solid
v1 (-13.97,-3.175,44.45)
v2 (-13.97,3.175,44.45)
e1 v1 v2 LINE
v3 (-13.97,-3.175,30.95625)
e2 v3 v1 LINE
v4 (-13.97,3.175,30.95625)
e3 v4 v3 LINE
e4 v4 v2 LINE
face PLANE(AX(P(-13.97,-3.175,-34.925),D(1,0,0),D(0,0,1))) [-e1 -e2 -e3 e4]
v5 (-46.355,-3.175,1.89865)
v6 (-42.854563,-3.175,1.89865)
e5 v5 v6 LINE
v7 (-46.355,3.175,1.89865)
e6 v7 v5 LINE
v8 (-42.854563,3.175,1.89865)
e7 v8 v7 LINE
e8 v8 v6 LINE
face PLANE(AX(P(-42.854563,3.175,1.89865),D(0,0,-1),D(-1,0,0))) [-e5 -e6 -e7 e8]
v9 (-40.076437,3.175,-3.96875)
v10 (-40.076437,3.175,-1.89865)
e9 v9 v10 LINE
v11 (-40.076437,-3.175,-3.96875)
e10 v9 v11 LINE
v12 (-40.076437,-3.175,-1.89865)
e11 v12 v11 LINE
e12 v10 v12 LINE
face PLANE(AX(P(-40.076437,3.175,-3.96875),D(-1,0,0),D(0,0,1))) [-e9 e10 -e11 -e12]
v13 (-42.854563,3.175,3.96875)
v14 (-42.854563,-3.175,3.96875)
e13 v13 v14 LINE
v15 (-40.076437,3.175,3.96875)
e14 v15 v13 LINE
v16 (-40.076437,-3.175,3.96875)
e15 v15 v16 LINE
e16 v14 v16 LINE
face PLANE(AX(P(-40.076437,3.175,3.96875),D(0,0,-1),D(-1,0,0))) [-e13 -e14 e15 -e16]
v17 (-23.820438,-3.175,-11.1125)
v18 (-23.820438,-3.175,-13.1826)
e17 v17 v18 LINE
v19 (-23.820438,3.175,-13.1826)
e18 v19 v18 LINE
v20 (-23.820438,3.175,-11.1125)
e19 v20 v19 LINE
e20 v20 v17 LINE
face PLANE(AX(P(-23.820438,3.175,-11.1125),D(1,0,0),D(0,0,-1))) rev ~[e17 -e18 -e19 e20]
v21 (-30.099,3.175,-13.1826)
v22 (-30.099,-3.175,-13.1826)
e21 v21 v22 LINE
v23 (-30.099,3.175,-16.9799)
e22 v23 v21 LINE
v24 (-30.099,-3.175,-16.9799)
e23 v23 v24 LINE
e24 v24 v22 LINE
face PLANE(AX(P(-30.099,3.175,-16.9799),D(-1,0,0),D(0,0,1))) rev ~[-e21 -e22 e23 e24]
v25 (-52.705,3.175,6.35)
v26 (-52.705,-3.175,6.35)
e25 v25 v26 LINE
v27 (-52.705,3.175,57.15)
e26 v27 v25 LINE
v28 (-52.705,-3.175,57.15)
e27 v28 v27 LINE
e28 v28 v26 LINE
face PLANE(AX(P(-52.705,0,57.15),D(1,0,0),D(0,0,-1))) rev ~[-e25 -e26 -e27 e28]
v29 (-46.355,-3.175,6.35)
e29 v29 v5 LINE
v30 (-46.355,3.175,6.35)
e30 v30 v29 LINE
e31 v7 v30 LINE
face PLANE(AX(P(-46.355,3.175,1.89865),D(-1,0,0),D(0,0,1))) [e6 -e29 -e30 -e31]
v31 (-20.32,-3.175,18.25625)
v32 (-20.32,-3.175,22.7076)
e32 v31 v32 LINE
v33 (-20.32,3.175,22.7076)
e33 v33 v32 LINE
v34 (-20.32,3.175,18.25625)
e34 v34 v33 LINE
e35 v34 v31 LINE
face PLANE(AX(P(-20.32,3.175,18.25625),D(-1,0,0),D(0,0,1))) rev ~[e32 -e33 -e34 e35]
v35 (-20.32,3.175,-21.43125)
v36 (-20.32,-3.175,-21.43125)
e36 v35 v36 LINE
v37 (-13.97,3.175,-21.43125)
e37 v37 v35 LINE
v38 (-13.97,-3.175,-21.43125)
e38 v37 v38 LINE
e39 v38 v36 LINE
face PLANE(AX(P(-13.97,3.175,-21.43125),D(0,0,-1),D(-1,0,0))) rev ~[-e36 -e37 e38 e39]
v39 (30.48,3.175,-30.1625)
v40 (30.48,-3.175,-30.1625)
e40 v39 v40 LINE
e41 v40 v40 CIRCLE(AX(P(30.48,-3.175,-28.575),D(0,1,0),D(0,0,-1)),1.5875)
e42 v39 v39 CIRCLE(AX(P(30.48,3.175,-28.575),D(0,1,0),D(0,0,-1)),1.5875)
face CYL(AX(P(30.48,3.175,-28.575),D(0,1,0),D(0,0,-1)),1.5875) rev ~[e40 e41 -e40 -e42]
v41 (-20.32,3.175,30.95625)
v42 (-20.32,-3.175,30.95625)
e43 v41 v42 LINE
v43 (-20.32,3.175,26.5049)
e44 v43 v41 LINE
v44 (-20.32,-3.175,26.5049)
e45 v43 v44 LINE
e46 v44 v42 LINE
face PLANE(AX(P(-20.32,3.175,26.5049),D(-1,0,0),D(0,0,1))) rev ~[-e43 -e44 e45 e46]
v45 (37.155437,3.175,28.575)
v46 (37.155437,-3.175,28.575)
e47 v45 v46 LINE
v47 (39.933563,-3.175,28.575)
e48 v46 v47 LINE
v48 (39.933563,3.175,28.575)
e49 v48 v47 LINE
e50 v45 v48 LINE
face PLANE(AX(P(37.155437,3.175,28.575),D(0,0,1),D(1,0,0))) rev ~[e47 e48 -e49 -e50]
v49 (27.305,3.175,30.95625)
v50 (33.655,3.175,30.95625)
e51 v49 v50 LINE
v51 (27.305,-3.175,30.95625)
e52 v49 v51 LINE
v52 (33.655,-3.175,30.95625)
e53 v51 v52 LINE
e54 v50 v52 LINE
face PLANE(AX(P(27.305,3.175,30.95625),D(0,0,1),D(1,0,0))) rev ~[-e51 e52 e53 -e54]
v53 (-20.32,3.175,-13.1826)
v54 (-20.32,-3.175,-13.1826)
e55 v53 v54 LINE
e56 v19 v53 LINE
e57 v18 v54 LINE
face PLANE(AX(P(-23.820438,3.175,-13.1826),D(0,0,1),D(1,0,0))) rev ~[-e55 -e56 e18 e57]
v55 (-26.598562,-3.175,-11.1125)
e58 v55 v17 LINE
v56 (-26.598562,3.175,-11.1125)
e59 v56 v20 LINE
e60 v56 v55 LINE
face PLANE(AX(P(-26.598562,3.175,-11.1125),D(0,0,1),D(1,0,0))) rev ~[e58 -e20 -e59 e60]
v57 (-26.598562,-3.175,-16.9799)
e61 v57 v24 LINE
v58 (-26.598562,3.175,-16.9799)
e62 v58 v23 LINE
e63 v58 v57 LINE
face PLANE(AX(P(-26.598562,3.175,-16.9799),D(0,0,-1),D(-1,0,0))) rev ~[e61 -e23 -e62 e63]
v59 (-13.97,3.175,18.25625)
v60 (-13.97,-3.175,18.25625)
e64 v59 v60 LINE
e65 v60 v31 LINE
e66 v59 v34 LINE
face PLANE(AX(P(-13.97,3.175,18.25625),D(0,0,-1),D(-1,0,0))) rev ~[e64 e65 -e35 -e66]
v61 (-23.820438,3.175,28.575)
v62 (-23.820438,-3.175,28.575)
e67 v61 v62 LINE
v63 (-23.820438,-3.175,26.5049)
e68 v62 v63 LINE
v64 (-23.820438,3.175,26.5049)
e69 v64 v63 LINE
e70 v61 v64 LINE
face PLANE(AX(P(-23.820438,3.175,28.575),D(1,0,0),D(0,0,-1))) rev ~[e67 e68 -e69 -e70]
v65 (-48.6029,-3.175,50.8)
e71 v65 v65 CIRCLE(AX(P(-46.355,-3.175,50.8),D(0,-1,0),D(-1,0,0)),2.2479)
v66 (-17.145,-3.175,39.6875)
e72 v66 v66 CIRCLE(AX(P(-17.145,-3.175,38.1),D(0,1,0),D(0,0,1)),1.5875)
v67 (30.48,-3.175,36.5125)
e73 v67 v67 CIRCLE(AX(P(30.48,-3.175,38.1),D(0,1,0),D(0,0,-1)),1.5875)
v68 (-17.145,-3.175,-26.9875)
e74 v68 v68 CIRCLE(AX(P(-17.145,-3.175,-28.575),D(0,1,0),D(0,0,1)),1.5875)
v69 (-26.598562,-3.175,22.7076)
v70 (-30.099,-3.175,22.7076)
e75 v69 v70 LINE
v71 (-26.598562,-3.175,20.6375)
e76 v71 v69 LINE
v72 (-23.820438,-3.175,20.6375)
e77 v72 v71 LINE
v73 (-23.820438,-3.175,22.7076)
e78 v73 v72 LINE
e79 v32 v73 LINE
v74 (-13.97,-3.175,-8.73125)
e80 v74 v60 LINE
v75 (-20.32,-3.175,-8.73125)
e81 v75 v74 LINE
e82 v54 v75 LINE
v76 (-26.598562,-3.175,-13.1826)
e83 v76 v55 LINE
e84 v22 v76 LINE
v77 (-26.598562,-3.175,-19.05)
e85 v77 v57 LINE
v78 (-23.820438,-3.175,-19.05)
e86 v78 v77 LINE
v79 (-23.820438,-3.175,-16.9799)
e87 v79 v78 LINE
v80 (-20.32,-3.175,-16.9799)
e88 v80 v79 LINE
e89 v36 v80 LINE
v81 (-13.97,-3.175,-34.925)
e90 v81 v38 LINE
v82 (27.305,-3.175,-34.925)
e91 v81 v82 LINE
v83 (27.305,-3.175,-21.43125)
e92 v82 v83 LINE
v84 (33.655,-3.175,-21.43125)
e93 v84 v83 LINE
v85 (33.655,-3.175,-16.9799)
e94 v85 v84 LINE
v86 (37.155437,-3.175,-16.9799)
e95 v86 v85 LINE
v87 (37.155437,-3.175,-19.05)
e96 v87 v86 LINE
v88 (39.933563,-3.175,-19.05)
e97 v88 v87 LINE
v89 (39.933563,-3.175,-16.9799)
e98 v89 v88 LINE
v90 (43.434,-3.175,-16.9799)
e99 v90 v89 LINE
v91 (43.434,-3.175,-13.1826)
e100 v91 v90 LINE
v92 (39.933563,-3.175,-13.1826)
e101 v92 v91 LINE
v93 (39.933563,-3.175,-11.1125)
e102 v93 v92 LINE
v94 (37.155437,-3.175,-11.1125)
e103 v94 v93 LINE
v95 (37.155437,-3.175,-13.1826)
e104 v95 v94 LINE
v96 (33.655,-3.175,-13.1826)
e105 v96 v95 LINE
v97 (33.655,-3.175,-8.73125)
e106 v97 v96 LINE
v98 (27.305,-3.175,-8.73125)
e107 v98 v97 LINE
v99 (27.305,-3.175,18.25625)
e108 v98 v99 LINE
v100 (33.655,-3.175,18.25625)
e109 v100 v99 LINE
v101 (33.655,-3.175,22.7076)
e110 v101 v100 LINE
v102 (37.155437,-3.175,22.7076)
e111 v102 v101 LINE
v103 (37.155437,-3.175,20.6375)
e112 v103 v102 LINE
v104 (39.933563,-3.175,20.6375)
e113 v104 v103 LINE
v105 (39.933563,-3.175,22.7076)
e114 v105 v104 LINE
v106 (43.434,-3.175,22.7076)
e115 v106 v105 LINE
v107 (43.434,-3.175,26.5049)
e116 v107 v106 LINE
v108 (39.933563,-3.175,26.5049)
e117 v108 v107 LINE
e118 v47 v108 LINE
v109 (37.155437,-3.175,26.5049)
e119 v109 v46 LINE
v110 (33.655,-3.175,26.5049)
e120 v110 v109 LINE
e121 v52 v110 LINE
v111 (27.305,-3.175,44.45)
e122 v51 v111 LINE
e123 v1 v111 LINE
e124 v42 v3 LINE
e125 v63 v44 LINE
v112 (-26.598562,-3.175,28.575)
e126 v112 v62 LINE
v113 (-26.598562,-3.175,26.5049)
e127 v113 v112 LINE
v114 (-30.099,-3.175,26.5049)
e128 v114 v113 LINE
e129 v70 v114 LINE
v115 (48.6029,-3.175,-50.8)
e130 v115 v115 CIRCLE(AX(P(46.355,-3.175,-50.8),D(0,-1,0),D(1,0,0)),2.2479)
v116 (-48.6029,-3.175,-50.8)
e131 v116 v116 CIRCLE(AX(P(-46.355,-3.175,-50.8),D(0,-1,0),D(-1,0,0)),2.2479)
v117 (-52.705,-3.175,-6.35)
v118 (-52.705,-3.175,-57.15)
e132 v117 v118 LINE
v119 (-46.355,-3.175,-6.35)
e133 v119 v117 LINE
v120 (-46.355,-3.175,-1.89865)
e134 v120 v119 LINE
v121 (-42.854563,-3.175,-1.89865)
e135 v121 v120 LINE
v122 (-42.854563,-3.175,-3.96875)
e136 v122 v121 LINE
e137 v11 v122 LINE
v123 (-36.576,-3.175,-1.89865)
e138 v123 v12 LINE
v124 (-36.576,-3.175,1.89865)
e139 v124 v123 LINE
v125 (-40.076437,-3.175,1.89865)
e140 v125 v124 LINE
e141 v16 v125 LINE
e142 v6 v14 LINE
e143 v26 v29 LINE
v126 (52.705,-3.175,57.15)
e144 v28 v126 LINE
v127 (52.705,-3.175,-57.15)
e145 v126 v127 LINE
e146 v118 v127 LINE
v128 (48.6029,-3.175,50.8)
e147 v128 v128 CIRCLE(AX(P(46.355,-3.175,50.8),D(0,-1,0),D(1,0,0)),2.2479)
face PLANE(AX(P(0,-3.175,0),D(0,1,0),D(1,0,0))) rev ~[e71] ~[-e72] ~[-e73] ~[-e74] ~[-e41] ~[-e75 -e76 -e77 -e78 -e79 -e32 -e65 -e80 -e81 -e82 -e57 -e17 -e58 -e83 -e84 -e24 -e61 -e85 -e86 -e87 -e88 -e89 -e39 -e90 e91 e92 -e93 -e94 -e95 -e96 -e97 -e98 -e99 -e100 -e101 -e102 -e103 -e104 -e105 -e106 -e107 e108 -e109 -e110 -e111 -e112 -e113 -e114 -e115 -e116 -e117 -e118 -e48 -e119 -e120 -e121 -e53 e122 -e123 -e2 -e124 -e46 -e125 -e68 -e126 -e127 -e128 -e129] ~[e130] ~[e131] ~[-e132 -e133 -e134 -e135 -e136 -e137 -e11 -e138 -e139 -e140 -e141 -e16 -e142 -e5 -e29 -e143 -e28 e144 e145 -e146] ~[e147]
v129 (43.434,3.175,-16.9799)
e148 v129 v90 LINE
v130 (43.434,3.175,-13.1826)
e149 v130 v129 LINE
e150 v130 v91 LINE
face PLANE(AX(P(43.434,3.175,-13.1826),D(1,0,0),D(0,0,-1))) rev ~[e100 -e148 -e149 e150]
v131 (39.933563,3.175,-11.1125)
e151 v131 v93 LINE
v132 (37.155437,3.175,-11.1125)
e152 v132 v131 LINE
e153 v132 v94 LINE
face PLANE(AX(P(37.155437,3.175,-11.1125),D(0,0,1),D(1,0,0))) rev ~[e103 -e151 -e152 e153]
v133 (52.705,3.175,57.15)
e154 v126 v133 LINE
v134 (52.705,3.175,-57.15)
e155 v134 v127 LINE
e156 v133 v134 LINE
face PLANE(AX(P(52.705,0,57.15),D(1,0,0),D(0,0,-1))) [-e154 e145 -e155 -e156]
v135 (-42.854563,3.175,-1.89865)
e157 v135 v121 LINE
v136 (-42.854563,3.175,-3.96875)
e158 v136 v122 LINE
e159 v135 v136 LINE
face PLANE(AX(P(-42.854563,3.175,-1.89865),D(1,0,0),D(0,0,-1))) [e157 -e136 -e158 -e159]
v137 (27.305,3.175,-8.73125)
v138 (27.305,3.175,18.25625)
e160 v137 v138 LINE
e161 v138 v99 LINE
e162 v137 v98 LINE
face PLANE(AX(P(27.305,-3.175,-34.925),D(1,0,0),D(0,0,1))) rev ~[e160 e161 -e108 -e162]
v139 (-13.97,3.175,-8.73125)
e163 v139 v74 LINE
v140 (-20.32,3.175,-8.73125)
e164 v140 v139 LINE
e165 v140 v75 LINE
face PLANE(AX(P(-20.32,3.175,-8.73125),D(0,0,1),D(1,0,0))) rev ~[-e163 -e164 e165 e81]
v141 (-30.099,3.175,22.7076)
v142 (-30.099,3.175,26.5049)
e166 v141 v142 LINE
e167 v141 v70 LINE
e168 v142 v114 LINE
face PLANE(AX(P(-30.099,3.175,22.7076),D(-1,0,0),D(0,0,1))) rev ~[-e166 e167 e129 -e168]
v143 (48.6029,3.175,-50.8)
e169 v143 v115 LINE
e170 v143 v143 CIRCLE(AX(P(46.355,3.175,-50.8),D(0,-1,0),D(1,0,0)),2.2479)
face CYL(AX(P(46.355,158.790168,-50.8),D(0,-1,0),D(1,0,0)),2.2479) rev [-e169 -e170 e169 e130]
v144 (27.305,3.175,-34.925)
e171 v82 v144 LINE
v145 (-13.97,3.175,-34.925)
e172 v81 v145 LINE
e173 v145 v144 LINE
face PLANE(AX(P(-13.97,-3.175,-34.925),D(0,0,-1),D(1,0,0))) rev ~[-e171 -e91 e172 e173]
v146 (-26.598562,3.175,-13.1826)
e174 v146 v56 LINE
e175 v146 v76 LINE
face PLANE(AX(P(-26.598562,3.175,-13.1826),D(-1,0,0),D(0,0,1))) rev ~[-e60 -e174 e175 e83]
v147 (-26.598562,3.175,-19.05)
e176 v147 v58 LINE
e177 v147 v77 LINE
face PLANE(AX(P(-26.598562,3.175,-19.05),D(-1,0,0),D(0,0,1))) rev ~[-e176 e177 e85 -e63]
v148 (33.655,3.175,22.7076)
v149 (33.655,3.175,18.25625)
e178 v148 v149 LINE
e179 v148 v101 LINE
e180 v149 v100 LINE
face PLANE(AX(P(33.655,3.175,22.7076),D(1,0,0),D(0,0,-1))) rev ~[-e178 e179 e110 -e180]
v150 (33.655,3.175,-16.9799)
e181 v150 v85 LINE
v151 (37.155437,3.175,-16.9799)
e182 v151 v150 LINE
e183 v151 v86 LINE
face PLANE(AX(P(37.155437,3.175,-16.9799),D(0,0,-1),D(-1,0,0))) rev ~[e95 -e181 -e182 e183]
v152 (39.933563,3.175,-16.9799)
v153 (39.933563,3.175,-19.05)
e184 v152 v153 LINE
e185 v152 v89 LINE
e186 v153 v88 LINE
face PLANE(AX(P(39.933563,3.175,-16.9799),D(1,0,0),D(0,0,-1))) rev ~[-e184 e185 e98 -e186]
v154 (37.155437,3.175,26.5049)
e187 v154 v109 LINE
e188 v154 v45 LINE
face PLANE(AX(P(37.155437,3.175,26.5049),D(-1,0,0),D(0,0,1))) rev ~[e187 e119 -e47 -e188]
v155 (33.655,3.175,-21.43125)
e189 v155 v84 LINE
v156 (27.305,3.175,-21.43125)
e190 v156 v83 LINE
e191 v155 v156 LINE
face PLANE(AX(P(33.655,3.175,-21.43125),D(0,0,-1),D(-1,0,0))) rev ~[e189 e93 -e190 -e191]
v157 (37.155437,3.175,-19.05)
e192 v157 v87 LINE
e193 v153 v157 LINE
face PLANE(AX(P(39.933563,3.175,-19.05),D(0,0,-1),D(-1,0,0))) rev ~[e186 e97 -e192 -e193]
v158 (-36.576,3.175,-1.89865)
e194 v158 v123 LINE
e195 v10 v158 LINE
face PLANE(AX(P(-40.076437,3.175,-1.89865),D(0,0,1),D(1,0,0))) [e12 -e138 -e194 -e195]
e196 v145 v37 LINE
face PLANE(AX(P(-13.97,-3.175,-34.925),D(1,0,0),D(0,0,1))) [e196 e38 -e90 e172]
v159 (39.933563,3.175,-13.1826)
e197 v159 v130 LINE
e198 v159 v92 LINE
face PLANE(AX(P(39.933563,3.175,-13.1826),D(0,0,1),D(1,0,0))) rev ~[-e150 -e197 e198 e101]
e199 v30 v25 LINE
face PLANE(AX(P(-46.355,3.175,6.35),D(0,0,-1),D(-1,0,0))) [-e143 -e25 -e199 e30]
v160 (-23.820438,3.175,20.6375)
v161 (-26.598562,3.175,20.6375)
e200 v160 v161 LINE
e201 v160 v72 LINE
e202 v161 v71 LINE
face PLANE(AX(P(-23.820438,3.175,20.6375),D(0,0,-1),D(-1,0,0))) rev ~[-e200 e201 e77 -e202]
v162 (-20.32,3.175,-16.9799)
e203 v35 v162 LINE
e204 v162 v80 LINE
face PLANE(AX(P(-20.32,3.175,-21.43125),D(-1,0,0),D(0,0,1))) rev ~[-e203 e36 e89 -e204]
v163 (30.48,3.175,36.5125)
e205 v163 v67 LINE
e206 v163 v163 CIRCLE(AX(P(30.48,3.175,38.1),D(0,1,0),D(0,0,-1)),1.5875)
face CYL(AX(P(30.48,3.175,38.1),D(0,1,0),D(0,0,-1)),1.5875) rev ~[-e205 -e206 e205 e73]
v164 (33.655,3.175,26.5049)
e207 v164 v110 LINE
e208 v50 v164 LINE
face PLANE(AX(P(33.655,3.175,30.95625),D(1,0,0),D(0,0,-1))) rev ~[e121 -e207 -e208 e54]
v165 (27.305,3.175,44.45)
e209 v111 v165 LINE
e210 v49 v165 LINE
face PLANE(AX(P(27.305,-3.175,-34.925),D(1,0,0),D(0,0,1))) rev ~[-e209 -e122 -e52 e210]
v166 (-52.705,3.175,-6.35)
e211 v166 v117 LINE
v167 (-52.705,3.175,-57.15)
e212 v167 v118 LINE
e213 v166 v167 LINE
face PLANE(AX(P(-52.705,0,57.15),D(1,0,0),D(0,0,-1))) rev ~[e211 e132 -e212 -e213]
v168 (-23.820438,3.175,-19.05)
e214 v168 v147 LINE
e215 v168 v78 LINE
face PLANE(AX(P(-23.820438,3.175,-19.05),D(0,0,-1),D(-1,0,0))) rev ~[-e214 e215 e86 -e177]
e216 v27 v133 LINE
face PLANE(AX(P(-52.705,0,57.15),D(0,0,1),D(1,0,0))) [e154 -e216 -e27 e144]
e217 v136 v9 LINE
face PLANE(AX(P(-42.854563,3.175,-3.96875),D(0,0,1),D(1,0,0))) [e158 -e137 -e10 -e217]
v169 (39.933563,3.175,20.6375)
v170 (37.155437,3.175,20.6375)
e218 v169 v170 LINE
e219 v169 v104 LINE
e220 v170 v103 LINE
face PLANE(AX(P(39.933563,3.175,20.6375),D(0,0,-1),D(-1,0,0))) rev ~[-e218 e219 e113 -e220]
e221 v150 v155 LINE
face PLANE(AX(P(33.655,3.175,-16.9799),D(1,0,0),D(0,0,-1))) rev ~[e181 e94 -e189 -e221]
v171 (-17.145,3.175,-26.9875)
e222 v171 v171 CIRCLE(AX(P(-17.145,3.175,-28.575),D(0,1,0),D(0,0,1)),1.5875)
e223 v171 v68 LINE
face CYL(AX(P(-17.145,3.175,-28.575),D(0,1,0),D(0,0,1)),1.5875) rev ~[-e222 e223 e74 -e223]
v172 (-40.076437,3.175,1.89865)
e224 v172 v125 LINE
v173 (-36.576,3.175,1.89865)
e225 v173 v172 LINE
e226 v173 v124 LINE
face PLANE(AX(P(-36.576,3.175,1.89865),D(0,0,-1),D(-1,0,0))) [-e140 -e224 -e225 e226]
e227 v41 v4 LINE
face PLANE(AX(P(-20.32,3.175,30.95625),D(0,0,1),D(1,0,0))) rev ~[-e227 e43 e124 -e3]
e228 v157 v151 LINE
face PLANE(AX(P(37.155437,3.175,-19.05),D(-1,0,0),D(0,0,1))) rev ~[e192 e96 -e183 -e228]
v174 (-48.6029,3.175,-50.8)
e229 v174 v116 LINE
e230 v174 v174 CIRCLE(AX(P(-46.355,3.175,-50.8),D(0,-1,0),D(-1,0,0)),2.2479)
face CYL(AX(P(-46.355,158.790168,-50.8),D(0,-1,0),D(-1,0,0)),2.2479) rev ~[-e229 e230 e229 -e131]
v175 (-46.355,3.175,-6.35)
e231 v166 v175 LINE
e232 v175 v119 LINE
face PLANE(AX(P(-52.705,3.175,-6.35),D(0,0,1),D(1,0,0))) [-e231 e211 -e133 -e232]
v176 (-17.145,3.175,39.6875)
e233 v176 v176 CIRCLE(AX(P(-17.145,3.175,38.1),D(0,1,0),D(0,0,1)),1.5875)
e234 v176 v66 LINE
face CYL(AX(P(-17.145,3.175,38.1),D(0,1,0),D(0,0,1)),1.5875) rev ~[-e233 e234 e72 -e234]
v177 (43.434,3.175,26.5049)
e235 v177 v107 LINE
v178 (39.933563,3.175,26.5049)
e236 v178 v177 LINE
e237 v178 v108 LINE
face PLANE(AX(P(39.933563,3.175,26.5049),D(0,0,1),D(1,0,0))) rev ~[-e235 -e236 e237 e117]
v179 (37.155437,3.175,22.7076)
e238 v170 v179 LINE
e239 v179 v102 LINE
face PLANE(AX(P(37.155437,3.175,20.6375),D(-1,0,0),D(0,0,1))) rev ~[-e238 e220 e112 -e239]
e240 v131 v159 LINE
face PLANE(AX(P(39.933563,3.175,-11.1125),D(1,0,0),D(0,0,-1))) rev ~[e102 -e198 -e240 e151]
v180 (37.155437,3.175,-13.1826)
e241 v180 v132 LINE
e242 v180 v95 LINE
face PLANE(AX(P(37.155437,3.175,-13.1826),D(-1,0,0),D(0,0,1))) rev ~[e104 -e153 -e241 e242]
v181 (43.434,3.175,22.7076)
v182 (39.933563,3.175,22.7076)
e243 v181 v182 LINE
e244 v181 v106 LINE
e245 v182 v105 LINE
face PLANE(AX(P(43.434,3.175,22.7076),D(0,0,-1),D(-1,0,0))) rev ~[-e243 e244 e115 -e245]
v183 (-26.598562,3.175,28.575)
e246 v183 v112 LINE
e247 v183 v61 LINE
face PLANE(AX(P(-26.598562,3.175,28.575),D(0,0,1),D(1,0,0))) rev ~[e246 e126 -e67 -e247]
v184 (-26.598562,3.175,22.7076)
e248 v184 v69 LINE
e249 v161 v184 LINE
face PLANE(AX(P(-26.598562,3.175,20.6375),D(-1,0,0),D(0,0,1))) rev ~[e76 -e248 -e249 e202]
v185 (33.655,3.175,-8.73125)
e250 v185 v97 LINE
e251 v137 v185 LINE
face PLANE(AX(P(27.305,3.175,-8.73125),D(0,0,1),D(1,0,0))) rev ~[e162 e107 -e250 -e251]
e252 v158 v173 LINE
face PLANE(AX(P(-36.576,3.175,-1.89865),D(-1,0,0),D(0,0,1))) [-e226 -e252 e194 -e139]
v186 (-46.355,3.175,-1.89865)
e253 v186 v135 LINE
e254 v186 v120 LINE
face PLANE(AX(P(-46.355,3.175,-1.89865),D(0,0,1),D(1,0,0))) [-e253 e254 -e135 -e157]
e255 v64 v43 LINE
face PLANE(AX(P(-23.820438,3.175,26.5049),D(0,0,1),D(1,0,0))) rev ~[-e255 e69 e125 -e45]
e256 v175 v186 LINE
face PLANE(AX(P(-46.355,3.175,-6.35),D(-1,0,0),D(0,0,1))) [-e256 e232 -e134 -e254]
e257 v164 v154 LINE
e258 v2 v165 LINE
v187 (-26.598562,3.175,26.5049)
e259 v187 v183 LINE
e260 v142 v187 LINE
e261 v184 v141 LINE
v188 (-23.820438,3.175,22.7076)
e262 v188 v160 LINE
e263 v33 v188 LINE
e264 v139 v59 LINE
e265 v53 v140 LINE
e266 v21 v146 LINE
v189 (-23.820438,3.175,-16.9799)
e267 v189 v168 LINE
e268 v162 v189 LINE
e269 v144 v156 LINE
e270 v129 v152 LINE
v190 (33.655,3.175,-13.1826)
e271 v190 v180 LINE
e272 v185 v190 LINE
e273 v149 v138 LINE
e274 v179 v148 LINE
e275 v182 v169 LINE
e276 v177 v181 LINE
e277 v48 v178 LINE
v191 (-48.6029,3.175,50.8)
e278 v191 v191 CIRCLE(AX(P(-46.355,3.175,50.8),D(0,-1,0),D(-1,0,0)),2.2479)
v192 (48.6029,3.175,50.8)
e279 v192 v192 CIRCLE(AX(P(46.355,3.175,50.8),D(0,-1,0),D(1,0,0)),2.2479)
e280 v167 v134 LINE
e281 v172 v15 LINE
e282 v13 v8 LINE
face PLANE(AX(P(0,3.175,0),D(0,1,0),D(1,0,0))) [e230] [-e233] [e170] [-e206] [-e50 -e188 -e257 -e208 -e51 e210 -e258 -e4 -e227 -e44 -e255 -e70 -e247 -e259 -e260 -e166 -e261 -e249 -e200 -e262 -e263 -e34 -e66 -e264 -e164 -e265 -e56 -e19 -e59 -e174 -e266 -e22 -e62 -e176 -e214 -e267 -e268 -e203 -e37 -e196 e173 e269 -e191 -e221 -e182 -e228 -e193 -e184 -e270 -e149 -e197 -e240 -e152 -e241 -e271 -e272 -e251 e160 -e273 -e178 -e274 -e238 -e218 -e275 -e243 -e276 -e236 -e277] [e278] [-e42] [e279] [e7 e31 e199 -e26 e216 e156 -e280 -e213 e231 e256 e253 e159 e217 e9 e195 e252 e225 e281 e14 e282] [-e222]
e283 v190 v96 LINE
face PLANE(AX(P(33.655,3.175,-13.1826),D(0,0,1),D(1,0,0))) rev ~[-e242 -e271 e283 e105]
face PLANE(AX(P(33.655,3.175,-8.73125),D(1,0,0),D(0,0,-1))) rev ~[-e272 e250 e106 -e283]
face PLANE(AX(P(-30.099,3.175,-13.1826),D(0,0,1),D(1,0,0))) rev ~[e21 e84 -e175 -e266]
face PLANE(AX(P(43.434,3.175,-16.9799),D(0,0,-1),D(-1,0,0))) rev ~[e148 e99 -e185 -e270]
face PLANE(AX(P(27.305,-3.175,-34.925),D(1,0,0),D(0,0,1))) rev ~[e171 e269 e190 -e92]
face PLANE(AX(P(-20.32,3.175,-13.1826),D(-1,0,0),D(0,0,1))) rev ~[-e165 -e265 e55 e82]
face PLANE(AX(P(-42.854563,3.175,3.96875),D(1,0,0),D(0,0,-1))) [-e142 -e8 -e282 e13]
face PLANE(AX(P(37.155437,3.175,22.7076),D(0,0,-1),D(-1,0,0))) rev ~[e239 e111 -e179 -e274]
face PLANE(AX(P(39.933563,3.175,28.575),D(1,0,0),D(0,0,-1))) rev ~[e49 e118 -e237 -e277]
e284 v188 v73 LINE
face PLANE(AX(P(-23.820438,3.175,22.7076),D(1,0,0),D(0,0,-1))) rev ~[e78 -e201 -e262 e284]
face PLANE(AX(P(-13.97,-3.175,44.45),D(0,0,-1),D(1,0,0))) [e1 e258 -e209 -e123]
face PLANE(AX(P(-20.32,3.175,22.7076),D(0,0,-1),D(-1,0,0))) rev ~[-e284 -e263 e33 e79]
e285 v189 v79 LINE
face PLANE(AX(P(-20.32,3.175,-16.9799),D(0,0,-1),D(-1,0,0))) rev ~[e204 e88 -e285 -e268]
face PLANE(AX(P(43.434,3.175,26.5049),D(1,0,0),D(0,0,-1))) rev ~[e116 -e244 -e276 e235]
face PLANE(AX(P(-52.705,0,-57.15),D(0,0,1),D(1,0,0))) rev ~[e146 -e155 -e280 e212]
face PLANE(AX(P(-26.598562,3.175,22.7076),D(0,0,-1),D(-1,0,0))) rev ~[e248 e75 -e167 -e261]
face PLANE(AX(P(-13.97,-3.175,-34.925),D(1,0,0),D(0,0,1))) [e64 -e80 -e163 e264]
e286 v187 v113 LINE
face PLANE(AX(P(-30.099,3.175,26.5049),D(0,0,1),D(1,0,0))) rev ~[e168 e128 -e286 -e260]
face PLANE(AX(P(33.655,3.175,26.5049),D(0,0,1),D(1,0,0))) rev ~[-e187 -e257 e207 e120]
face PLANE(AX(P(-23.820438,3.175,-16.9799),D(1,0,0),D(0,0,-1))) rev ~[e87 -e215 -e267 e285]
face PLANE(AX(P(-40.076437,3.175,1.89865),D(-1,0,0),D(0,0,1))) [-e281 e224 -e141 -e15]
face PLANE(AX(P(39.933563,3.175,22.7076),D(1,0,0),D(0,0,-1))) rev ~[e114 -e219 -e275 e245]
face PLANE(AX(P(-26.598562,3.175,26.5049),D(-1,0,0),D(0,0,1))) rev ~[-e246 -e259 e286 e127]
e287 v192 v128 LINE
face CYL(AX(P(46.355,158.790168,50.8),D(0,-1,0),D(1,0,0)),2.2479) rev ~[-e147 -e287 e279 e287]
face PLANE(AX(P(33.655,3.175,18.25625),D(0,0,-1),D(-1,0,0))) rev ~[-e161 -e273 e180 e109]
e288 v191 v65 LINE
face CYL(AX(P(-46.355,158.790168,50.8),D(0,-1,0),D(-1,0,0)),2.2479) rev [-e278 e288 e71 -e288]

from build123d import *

# Parameters (mm, degrees)
SKETCH1_W             = 105.41
SKETCH1_H             = 114.3
BOSS_EXTRUDE1_DEPTH   = 3.175
F_8_CLEARANCE_HOLE1_D = 4.4958
MIRROR2_COPY_1_D      = 4.4958
CUT_EXTRUDE4_REACH    = 80.002
SKETCH15_W            = 41.275
SKETCH15_H            = 79.375
CUT_EXTRUDE5_REACH    = 80.002
SKETCH17_R            = 1.5875
CUT_EXTRUDE6_DEPTH    = 6.35


with BuildPart() as part:
    # Sketch1 → Boss-Extrude1 (new, symmetric)
    with BuildSketch(Plane(origin=(0, 0, 0), x_dir=(1, 0, 0), z_dir=(0, 1, 0))):
        Rectangle(SKETCH1_W, SKETCH1_H)
    extrude(amount=BOSS_EXTRUDE1_DEPTH, both=True)

    # #8 Clearance Hole1 (through all)
    with Locations(Plane(origin=(0, 3.175, 0), x_dir=(1, 0, 0), z_dir=(0, 1, 0))):
        with Locations((-46.355, 50.8)):
            f_8_clearance_hole1 = Hole(F_8_CLEARANCE_HOLE1_D / 2)

    # Mirror1: #8 Clearance Hole1 across plane
    add(f_8_clearance_hole1.mirror(Plane.XY), mode=Mode.SUBTRACT)

    # Mirror2: #8 Clearance Hole1 across plane
    add(f_8_clearance_hole1.mirror(Plane(origin=(0, 0, 0), x_dir=(0, 0, 1), z_dir=(1, 0, 0))), mode=Mode.SUBTRACT)

    # Mirror2 copy 1 (through all)
    with Locations(Plane(origin=(0, 3.175, 0), x_dir=(-1, 0, 0), z_dir=(0, 1, 0))):
        with Locations((-46.355, 50.8)):
            Hole(MIRROR2_COPY_1_D / 2)

    # Sketch15 → Cut-Extrude4 (cut, up to next)
    with BuildSketch(Plane.XZ.offset(3.175), mode=Mode.PRIVATE) as cut_extrude4_sk1:
        with Locations((6.6675, 4.7625)):
            Rectangle(SKETCH15_W, SKETCH15_H)
    cut_extrude4_tool1 = extrude(cut_extrude4_sk1.sketch, amount=-CUT_EXTRUDE4_REACH, mode=Mode.PRIVATE) & part.part
    add(cut_extrude4_tool1.solids().sort_by_distance((6.6675, -3.175, 4.7625))[0], mode=Mode.SUBTRACT)

    # Sketch16 → Cut-Extrude5 (cut, up to next)
    with BuildSketch(Plane(origin=(0, 3.175, 0), x_dir=(1, 0, 0), z_dir=(0, 1, 0)), mode=Mode.PRIVATE) as cut_extrude5_sk1:
        Polygon((-52.705, -6.35), (-52.705, 6.35), (-46.355, 6.35), (-46.355, 1.89865), (-42.8545625, 1.89865), (-42.8545625, 3.96875), (-40.0764375, 3.96875), (-40.0764375, 1.89865), (-36.576, 1.89865), (-36.576, -1.89865), (-40.0764375, -1.89865), (-40.0764375, -3.96875), (-42.8545625, -3.96875), (-42.8545625, -1.89865), (-46.355, -1.89865), (-46.355, -6.35), align=None)
    cut_extrude5_tool1 = extrude(cut_extrude5_sk1.sketch, amount=-CUT_EXTRUDE5_REACH, mode=Mode.PRIVATE) & part.part
    add(cut_extrude5_tool1.solids().sort_by_distance((-46.496113, 3.175, 0))[0], mode=Mode.SUBTRACT)

    # Sketch17 → Cut-Extrude6 (cut)
    with BuildSketch(Plane(origin=(0, 3.175, 0), x_dir=(1, 0, 0), z_dir=(0, 1, 0))):
        with Locations(Location((-17.145, 28.575, 0), (0, 0, 270))):
            Circle(SKETCH17_R)
        with Locations(Location((-17.145, -38.1, 0), (0, 0, 270))):
            Circle(SKETCH17_R)
        with Locations(Location((30.48, -38.1, 0), (0, 0, 90))):
            Circle(SKETCH17_R)
        with Locations(Location((30.48, 28.575, 0), (0, 0, 90))):
            Circle(SKETCH17_R)
        Polygon((-20.32, 8.73125), (-13.97, 8.73125), (-13.97, 21.43125), (-20.32, 21.43125), (-20.32, 16.9799), (-23.8204375, 16.9799), (-23.8204375, 19.05), (-26.5985625, 19.05), (-26.5985625, 16.9799), (-30.099, 16.9799), (-30.099, 13.1826), (-26.5985625, 13.1826), (-26.5985625, 11.1125), (-23.8204375, 11.1125), (-23.8204375, 13.1826), (-20.32, 13.1826), align=None)
        Polygon((33.655, -18.25625), (27.305, -18.25625), (27.305, -30.95625), (33.655, -30.95625), (33.655, -26.5049), (37.1554375, -26.5049), (37.1554375, -28.575), (39.9335625, -28.575), (39.9335625, -26.5049), (43.434, -26.5049), (43.434, -22.7076), (39.9335625, -22.7076), (39.9335625, -20.6375), (37.1554375, -20.6375), (37.1554375, -22.7076), (33.655, -22.7076), align=None)
        Polygon((-20.32, -26.5049), (-20.32, -30.95625), (-13.97, -30.95625), (-13.97, -18.25625), (-20.32, -18.25625), (-20.32, -22.7076), (-23.8204375, -22.7076), (-23.8204375, -20.6375), (-26.5985625, -20.6375), (-26.5985625, -22.7076), (-30.099, -22.7076), (-30.099, -26.5049), (-26.5985625, -26.5049), (-26.5985625, -28.575), (-23.8204375, -28.575), (-23.8204375, -26.5049), align=None)
        Polygon((33.655, 16.9799), (33.655, 21.43125), (27.305, 21.43125), (27.305, 8.73125), (33.655, 8.73125), (33.655, 13.1826), (37.1554375, 13.1826), (37.1554375, 11.1125), (39.9335625, 11.1125), (39.9335625, 13.1826), (43.434, 13.1826), (43.434, 16.9799), (39.9335625, 16.9799), (39.9335625, 19.05), (37.1554375, 19.05), (37.1554375, 16.9799), align=None)
    extrude(amount=-CUT_EXTRUDE6_DEPTH, mode=Mode.SUBTRACT)


solid = part.part
